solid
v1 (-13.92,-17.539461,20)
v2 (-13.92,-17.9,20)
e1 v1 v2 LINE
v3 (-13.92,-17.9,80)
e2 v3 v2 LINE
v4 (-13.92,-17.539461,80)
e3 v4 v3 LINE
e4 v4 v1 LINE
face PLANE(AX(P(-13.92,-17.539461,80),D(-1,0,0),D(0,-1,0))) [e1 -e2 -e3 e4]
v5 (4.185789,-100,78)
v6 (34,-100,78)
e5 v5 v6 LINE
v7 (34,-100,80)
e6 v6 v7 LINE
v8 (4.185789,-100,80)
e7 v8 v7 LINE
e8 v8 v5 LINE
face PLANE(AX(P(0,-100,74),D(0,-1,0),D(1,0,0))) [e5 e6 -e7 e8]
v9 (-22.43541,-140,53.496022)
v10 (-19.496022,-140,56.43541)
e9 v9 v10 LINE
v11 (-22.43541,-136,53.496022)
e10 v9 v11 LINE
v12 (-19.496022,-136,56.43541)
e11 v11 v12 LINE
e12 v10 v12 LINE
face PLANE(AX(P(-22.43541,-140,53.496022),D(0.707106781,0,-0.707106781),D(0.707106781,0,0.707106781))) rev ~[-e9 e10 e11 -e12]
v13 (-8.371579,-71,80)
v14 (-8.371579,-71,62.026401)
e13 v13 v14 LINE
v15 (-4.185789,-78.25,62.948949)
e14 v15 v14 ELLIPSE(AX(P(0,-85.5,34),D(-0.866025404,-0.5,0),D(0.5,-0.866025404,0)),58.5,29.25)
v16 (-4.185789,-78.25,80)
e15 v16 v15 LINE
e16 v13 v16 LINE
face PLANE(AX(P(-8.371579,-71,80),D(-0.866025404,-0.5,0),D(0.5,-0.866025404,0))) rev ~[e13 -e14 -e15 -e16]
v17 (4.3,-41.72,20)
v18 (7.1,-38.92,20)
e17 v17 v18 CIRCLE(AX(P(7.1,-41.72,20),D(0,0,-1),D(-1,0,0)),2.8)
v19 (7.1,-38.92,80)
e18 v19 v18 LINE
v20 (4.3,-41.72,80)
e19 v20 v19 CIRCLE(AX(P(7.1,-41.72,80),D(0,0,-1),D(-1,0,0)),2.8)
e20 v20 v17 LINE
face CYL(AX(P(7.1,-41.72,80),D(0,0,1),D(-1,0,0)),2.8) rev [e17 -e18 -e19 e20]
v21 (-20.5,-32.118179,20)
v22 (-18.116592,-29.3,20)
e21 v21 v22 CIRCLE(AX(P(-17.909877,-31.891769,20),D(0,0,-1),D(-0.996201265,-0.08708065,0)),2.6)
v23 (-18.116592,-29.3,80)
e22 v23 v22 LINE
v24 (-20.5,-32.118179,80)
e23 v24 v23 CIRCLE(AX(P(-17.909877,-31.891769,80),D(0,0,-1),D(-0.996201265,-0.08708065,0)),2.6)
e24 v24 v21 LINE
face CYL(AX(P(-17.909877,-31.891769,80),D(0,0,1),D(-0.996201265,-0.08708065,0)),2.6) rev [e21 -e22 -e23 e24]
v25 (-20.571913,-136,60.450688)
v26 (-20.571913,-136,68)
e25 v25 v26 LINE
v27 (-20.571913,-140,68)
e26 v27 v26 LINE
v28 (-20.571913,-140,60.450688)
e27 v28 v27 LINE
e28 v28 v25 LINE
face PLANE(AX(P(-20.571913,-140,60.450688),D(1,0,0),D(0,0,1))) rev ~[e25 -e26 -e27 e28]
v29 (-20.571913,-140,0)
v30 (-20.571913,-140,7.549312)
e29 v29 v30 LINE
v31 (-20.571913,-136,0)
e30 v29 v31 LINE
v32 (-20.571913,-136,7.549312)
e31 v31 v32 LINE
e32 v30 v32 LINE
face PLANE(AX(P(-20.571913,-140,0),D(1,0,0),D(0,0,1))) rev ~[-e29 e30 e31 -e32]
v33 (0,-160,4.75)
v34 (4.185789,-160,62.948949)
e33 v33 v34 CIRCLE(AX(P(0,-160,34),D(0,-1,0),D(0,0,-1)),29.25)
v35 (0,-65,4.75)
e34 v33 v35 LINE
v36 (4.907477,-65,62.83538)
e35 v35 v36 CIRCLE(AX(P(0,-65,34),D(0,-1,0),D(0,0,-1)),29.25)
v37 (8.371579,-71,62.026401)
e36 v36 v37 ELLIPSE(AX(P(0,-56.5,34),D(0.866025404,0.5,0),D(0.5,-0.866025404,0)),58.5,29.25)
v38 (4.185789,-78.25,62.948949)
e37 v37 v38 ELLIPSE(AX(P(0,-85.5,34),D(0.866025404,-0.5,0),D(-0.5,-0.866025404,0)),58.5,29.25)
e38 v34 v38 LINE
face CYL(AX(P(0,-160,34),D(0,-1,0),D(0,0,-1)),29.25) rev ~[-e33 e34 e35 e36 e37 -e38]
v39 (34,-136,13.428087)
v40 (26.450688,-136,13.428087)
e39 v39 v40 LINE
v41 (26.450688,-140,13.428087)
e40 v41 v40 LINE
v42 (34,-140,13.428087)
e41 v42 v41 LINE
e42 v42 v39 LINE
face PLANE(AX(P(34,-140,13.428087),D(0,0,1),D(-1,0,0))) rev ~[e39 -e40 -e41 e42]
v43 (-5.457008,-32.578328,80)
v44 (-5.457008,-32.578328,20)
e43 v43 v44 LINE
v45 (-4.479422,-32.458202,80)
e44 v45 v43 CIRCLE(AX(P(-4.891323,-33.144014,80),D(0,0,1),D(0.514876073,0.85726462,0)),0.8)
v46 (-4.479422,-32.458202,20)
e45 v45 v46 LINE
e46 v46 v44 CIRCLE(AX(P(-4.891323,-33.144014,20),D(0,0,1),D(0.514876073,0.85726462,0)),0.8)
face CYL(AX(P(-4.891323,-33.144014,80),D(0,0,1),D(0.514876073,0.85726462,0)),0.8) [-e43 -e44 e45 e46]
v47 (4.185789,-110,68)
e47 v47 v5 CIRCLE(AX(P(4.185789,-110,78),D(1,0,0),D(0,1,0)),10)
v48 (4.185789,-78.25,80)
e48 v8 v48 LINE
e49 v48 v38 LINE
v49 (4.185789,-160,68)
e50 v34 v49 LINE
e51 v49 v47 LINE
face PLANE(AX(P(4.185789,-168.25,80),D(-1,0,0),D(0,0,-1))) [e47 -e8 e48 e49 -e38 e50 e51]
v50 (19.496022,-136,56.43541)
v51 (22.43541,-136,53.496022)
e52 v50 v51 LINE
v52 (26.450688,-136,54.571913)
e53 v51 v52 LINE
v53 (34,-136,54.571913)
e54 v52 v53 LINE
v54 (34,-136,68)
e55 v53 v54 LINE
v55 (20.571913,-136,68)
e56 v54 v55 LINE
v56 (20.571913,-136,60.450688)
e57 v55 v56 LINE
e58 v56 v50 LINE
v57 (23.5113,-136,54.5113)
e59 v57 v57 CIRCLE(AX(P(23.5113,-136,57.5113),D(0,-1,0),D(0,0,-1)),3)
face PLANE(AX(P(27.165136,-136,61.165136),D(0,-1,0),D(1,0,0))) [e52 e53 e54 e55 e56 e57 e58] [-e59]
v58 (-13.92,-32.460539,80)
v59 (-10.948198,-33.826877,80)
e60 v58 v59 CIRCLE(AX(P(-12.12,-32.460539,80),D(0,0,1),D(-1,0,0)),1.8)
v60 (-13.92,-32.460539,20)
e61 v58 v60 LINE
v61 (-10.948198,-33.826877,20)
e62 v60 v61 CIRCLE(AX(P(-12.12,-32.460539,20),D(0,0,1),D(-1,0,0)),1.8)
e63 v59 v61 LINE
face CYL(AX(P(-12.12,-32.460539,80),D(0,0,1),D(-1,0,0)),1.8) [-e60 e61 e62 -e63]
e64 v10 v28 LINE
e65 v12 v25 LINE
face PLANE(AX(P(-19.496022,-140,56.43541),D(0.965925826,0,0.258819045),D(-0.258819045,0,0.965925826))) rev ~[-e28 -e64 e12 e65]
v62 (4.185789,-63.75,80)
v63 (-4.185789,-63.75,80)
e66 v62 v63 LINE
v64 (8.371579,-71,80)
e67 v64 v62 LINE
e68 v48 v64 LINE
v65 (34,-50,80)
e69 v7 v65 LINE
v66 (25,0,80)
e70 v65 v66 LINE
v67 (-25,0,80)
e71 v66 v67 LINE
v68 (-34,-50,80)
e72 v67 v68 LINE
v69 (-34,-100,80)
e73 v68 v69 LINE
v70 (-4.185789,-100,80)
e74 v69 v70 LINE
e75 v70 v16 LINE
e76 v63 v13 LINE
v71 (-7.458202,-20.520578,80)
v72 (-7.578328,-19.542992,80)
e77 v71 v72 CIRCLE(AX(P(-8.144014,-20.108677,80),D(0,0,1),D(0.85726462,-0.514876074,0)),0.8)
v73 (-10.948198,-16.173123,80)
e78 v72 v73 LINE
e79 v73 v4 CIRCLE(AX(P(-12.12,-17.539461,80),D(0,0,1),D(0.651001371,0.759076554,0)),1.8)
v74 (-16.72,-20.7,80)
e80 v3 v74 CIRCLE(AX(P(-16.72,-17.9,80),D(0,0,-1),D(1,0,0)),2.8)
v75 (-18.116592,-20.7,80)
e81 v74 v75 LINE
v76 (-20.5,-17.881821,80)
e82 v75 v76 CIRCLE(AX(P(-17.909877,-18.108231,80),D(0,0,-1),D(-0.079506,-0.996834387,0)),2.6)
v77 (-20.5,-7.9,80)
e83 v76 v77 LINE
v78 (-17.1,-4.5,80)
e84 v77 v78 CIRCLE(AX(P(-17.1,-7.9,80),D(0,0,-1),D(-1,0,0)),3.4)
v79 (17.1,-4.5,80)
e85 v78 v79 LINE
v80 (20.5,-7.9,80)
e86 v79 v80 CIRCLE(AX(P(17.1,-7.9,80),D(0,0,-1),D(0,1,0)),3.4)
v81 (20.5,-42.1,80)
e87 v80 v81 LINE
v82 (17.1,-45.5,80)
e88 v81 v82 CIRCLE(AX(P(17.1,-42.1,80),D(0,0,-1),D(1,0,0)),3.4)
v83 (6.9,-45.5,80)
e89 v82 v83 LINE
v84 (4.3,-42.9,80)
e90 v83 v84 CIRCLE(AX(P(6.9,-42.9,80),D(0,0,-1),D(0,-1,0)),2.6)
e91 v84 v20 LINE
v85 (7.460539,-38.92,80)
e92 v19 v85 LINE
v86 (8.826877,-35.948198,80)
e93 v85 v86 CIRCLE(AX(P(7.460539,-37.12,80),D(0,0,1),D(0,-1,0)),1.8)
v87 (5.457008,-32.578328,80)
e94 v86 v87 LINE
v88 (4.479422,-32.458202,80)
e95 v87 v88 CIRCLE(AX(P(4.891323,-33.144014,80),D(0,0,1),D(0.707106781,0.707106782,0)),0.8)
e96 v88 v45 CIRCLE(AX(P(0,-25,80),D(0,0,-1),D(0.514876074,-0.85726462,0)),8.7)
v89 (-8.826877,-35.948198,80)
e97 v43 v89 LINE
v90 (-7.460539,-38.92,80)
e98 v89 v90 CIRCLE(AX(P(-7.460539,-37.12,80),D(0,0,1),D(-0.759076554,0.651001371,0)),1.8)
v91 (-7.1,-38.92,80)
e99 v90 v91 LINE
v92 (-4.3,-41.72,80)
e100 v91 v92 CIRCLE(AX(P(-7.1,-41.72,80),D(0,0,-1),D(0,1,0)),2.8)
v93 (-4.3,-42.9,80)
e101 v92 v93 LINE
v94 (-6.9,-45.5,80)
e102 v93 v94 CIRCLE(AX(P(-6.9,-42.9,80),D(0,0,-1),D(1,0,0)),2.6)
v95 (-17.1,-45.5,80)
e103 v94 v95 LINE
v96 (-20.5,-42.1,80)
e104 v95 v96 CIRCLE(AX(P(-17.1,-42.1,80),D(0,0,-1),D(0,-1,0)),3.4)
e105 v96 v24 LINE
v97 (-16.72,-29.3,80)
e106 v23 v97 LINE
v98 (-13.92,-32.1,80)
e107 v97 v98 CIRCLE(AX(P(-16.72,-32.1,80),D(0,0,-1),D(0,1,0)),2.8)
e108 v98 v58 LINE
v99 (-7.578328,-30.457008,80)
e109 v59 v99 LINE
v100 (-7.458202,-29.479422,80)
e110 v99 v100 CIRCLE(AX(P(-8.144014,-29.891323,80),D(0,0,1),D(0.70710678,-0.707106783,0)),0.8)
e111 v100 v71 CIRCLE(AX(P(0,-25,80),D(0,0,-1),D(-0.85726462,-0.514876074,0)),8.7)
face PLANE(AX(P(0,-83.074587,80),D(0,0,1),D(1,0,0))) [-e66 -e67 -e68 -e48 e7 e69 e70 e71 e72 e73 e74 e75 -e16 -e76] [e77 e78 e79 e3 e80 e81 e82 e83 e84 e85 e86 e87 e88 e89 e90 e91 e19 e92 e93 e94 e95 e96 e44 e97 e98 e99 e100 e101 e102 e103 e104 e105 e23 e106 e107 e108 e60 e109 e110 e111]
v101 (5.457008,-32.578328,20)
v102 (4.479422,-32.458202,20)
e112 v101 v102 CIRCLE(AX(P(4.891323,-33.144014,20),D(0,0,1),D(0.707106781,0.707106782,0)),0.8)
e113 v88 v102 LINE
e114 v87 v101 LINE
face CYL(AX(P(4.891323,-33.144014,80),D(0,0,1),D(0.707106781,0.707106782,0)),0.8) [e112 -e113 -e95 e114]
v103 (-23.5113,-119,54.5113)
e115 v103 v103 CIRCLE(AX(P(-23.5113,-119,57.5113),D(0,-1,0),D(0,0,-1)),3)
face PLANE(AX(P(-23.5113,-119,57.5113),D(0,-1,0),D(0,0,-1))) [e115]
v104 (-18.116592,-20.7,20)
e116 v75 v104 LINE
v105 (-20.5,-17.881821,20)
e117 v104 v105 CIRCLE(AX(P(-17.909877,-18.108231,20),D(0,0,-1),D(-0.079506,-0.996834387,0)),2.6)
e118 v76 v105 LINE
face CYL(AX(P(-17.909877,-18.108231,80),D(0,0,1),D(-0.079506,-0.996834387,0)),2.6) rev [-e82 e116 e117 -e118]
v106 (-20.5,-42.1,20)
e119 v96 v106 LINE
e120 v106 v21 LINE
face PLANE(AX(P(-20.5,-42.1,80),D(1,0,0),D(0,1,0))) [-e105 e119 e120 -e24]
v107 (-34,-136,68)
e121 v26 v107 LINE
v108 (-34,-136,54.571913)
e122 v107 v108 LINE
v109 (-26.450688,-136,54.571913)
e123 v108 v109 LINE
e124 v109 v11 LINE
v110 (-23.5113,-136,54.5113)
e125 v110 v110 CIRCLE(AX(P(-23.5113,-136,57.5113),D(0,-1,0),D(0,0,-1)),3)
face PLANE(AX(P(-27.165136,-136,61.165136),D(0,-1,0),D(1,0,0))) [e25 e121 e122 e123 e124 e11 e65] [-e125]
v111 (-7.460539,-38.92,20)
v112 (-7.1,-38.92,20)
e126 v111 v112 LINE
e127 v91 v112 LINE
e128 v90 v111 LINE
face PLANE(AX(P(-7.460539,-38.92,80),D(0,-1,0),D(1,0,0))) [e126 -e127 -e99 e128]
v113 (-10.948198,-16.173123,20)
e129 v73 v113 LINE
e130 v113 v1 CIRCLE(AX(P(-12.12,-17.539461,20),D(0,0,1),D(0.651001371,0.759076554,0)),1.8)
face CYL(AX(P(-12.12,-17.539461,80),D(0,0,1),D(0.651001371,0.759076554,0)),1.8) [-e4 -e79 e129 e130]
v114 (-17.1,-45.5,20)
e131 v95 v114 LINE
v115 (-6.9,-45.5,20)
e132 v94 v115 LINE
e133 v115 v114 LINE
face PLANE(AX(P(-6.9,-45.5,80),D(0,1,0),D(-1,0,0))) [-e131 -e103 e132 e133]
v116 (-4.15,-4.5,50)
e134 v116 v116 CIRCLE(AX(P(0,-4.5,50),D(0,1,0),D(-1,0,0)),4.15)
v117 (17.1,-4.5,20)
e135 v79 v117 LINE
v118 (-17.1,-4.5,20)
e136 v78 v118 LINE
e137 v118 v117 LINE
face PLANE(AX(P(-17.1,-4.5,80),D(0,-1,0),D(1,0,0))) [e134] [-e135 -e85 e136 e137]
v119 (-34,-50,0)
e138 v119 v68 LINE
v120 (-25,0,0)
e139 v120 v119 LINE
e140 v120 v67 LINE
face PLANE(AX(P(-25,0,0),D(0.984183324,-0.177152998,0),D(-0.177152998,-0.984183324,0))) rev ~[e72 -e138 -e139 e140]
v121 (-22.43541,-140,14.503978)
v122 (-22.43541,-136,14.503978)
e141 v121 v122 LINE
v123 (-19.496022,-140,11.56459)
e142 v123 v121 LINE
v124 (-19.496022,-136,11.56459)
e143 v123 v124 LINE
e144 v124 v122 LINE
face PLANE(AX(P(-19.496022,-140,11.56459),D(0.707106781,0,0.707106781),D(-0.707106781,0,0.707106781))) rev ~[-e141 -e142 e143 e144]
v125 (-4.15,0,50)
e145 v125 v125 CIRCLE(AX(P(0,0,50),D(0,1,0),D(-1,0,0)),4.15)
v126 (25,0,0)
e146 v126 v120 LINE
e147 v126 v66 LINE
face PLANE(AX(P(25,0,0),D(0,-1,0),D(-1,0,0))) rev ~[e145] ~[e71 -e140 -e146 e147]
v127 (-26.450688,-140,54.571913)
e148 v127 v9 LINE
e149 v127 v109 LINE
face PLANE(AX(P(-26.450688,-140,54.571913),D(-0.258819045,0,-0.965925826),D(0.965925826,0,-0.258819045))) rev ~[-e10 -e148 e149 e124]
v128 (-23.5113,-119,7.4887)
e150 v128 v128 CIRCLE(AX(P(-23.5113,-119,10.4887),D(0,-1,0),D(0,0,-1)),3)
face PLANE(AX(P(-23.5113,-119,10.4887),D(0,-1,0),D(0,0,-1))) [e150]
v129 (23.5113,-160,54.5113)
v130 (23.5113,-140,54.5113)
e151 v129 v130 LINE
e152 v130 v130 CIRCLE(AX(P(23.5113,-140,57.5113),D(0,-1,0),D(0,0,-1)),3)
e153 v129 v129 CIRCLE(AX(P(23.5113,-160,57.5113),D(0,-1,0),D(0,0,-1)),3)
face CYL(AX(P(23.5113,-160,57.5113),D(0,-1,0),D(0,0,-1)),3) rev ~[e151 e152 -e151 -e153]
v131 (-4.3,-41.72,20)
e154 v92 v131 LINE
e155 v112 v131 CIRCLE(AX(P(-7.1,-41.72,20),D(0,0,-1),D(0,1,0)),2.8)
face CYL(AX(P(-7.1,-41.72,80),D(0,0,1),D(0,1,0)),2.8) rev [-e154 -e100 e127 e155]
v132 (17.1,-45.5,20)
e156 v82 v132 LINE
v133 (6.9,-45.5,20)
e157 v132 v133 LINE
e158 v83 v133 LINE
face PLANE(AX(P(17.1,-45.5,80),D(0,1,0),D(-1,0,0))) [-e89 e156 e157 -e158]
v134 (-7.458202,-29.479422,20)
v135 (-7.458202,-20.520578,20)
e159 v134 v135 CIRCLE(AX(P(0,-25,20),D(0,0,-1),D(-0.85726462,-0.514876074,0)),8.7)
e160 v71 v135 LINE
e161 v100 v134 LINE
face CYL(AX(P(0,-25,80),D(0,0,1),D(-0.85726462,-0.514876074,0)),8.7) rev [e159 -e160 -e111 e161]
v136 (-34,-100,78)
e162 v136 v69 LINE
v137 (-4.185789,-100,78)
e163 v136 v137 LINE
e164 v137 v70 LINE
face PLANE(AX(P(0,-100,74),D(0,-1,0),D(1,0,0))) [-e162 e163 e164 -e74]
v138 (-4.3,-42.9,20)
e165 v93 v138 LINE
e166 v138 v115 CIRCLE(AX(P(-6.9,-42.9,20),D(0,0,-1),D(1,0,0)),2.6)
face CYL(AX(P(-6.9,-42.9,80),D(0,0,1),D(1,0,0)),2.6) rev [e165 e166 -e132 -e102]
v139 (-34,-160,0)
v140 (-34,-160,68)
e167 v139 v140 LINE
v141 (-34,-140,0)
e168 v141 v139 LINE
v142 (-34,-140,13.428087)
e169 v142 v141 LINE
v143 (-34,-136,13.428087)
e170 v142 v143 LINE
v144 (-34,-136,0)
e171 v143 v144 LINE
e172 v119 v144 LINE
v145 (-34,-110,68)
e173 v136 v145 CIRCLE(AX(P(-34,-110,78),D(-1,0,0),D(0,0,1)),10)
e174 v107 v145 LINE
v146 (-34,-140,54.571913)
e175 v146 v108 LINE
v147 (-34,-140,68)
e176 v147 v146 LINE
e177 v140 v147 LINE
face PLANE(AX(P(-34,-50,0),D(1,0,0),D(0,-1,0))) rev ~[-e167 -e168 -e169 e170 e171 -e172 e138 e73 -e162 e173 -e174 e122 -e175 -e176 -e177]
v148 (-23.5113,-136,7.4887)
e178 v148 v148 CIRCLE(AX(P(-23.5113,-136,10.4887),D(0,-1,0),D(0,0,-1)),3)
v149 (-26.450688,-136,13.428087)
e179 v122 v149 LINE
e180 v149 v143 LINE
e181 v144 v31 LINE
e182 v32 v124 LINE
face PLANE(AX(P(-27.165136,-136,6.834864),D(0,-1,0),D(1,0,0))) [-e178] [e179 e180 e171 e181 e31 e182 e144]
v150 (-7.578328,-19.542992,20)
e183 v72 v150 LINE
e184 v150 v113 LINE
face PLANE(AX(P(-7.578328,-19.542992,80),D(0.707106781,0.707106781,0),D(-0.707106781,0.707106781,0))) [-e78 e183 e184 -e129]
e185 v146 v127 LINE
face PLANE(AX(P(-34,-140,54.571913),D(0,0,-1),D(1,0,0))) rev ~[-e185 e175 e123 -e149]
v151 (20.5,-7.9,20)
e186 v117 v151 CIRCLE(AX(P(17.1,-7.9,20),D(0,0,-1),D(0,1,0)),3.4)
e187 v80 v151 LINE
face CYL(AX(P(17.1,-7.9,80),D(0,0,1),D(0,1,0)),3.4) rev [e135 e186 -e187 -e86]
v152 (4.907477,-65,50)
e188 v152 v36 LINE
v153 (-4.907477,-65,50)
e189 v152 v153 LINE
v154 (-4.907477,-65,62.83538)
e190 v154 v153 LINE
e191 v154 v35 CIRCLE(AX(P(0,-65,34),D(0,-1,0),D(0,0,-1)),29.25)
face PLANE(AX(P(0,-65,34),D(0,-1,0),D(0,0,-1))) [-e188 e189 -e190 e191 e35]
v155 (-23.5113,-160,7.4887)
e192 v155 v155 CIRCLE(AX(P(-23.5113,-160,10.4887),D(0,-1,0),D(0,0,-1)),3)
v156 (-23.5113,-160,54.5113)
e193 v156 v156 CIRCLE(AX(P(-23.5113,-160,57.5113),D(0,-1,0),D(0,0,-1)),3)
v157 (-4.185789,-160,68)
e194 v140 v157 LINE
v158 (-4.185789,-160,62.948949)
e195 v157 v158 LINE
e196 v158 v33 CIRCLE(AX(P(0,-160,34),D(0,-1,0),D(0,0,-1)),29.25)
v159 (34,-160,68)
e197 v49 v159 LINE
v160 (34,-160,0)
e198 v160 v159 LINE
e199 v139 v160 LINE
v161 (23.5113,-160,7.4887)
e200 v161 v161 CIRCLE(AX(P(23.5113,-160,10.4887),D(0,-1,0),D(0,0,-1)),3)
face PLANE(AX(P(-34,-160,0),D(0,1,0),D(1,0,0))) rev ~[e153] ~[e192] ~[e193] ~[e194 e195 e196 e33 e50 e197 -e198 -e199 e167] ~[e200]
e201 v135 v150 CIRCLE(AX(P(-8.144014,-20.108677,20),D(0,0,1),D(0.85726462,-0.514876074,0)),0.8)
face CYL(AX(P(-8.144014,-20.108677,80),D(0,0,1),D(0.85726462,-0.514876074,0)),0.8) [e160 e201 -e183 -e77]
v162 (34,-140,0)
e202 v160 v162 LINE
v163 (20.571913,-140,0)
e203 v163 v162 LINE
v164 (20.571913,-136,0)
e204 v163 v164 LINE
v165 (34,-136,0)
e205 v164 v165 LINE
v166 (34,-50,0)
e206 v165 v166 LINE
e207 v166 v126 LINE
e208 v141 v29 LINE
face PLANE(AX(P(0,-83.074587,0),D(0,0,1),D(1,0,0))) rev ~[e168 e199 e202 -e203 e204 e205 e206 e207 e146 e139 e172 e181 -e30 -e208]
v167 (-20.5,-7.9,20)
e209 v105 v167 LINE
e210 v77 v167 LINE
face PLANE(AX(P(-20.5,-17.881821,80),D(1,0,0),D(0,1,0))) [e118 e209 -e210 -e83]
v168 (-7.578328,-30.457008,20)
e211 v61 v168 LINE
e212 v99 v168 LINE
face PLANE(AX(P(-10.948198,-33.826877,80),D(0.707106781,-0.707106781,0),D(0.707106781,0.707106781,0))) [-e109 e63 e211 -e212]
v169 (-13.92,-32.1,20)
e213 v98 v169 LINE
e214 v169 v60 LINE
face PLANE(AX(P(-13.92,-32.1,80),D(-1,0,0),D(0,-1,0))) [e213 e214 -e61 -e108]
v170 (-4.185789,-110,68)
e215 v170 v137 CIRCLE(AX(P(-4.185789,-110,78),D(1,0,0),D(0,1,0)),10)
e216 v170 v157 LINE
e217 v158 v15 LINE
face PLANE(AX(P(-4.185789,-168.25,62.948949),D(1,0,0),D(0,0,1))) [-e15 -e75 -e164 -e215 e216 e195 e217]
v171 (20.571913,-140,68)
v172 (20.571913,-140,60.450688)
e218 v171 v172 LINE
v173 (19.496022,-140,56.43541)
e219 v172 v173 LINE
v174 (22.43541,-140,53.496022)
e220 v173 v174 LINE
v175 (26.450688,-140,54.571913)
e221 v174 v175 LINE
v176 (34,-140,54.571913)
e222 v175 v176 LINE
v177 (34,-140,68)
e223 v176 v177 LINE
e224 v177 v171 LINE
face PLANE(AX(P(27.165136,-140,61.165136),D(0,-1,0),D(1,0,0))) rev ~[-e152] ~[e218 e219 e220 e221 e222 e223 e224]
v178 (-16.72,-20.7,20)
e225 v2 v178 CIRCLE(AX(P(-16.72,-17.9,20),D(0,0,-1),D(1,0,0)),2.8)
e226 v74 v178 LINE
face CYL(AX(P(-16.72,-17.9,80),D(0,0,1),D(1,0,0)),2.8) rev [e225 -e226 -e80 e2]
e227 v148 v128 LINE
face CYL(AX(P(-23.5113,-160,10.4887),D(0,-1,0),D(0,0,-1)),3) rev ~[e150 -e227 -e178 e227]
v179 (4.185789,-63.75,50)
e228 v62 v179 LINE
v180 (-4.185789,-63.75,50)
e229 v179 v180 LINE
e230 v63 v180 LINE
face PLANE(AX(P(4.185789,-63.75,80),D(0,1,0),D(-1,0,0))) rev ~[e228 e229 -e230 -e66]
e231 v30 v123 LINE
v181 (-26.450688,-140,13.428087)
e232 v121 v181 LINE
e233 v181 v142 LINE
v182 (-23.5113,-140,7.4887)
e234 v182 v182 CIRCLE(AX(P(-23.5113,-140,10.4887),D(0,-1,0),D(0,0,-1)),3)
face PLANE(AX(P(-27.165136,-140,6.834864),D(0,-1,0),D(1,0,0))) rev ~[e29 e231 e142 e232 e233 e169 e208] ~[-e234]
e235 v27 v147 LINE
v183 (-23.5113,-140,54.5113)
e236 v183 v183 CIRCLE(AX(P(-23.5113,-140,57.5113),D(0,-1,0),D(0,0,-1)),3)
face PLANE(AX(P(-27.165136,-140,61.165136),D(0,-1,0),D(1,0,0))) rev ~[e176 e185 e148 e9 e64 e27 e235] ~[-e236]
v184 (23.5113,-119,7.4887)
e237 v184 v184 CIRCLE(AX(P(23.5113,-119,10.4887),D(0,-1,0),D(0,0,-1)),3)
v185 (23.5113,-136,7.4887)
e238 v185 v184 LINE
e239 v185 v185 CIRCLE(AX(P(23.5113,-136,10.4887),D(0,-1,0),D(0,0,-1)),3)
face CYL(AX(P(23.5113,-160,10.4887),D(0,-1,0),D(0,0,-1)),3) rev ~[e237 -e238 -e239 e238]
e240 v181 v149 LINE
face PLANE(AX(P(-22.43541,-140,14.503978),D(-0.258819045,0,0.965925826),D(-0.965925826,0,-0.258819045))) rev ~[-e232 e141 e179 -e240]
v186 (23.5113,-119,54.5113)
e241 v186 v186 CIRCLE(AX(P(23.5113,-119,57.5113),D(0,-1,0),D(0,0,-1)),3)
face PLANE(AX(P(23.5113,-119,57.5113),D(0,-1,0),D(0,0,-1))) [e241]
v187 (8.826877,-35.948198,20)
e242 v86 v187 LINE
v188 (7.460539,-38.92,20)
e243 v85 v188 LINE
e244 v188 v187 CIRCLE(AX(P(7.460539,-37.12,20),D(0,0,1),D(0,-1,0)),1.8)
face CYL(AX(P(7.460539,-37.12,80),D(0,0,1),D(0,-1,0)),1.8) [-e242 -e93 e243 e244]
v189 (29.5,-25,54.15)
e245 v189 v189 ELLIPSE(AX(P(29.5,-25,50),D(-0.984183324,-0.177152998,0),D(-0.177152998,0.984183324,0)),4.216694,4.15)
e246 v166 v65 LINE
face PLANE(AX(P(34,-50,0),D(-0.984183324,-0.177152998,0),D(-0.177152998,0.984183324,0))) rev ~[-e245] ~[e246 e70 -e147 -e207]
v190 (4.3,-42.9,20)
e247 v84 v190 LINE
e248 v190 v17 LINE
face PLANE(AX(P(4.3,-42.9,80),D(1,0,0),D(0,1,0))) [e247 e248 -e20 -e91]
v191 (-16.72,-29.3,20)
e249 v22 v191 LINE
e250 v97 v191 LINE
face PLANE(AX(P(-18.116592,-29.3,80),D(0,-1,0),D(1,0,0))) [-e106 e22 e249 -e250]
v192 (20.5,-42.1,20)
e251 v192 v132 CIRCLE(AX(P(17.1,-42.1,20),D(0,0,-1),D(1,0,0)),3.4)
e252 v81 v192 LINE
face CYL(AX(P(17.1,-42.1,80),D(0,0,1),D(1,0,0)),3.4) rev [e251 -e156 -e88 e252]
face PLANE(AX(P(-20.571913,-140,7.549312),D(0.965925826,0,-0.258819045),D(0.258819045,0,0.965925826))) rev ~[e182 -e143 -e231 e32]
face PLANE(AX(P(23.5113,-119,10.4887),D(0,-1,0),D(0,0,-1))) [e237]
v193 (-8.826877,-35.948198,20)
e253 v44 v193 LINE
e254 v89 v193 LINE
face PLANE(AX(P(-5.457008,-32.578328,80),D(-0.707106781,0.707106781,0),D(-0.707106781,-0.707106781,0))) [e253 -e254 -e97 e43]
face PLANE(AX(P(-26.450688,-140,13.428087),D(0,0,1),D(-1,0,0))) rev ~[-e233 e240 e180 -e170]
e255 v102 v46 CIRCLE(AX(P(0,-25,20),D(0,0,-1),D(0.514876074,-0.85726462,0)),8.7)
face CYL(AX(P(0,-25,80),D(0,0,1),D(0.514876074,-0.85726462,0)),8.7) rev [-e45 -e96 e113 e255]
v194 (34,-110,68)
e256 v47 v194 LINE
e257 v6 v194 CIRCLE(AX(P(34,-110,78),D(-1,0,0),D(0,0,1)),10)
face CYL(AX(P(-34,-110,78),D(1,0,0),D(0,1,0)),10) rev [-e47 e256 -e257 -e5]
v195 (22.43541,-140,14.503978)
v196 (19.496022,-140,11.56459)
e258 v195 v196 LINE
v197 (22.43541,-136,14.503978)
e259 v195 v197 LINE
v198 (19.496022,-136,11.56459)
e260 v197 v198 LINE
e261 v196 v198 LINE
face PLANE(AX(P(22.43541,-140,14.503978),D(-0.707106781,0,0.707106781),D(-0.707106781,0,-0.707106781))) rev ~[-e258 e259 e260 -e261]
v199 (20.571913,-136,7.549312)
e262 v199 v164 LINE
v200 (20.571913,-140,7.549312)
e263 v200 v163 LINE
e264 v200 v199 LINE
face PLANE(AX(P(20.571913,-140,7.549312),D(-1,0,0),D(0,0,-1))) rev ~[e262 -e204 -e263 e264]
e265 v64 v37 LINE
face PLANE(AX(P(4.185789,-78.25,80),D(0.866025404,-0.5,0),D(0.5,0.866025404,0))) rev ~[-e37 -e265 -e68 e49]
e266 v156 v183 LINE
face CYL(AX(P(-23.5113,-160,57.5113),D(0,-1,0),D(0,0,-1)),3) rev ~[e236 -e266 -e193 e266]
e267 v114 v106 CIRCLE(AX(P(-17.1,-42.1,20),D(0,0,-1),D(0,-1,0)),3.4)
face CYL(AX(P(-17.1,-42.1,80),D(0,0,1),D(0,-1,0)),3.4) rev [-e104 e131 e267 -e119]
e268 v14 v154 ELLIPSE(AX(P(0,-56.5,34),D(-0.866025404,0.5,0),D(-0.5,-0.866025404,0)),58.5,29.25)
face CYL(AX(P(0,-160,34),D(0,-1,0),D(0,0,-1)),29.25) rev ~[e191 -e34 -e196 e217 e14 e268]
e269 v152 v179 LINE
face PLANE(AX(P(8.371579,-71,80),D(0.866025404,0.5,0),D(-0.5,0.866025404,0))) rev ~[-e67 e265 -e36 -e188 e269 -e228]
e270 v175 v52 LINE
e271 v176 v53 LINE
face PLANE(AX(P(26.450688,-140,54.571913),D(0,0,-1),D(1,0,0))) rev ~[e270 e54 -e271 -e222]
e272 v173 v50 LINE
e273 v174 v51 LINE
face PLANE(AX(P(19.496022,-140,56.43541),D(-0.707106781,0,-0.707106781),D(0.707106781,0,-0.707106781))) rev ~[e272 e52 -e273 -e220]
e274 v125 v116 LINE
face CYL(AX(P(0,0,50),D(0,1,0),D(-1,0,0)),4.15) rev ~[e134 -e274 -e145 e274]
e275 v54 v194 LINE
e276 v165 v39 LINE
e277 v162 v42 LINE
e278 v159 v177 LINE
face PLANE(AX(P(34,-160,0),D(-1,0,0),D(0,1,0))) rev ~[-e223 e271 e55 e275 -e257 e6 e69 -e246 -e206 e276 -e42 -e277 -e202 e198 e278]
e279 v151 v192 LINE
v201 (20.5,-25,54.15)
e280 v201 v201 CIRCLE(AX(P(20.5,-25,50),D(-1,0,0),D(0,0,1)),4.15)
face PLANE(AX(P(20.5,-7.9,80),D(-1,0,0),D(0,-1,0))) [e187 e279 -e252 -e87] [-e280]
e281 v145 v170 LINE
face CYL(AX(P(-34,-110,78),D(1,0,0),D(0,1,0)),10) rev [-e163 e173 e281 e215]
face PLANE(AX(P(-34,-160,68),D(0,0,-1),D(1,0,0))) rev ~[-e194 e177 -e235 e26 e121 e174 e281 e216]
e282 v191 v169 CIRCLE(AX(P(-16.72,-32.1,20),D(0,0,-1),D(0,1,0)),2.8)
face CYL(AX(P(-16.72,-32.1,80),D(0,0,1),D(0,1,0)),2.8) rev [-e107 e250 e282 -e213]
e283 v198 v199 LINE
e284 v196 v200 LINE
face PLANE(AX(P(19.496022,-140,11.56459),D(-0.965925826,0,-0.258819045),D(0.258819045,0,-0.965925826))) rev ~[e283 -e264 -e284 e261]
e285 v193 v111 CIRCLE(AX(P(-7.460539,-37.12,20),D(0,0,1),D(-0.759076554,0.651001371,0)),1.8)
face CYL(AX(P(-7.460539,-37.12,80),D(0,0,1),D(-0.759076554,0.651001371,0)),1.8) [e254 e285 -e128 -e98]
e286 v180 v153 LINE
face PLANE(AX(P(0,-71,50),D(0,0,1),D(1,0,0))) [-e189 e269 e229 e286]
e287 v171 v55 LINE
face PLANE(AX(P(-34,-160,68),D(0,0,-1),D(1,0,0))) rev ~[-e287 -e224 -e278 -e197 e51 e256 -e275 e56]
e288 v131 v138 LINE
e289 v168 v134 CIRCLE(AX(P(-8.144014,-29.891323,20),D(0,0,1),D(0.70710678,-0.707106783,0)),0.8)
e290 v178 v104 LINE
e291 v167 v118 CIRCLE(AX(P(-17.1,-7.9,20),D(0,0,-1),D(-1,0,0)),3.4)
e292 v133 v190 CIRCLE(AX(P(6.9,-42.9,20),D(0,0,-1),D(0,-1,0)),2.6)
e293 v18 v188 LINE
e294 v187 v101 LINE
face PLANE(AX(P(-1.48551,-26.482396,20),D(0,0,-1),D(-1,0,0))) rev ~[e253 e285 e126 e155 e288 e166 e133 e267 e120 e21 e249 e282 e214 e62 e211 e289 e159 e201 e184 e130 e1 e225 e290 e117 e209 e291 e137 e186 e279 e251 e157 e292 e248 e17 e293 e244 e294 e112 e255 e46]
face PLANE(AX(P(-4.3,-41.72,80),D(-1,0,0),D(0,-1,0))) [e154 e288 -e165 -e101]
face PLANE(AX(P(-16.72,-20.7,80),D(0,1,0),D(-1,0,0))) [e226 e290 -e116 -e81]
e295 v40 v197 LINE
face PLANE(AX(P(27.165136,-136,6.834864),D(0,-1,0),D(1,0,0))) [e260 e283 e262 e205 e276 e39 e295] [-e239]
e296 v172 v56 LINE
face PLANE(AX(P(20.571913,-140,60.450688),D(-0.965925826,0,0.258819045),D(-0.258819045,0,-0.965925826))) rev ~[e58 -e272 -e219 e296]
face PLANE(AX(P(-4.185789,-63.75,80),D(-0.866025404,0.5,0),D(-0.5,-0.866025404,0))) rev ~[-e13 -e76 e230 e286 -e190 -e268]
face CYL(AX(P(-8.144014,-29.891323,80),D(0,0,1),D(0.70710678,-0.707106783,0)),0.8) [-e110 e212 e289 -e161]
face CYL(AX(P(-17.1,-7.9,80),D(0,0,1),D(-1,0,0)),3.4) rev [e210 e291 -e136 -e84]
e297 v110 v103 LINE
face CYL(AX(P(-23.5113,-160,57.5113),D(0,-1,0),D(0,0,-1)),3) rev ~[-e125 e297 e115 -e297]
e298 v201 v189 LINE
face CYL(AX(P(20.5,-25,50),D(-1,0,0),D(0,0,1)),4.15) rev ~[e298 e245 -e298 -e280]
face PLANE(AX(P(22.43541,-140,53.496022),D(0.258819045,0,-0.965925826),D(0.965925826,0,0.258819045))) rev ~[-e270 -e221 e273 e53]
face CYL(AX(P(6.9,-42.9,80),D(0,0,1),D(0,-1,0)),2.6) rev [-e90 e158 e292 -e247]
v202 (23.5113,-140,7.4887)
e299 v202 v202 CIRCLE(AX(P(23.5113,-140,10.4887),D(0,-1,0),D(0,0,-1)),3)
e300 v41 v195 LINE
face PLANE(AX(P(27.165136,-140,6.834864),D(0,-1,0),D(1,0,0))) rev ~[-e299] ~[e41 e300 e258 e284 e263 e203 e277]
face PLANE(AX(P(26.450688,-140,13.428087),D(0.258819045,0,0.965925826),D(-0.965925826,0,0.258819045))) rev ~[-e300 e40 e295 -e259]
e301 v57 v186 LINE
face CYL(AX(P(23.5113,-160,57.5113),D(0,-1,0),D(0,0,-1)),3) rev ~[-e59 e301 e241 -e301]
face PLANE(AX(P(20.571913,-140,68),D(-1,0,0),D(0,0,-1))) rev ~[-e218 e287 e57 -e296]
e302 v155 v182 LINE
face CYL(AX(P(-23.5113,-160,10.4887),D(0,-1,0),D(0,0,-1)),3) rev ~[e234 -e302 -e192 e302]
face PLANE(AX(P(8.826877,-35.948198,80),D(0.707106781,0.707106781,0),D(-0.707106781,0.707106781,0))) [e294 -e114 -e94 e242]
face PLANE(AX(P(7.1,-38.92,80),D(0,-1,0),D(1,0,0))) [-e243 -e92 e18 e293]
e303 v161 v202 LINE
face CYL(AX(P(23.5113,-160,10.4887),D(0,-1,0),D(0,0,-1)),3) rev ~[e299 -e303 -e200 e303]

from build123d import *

# Parameters (mm, degrees)
BOSS_EXTRUDE1_DEPTH = 80
SKETCH2_W           = 68
SKETCH2_H           = 12
CUT_EXTRUDE1_DEPTH  = 60
FILLET1_R           = 10
CUT_EXTRUDE6_DEPTH  = 60
SKETCH6_R           = 29.25
CUT_EXTRUDE7_DEPTH  = 95
SKETCH7_R           = 3
CUT_EXTRUDE8_DEPTH  = 41
CUT_EXTRUDE9_START  = -20
CUT_EXTRUDE9_DEPTH  = 4
CUT_EXTRUDE10_DEPTH = 30
CUT_EXTRUDE11_START = -90
CUT_EXTRUDE11_DEPTH = 90
SKETCH11_R          = 4.15
CUT_EXTRUDE12_DEPTH = 18
SKETCH12_R          = 4.15
CUT_EXTRUDE13_DEPTH = 18


with BuildPart() as part:
    # Sketch1 → Boss-Extrude1 (new body)
    with BuildSketch(Plane.XY):
        Polygon((25, 0), (-25, 0), (-34, -50), (-34, -160), (34, -160), (34, -50), align=None)
    extrude(amount=BOSS_EXTRUDE1_DEPTH)

    # Sketch2 → Cut-Extrude1 (cut)
    with BuildSketch(Plane.XZ.offset(160)):
        with Locations((0, 74)):
            Rectangle(SKETCH2_W, SKETCH2_H)
    extrude(amount=-CUT_EXTRUDE1_DEPTH, mode=Mode.SUBTRACT)

    # Fillet1
    fillet1_edges = [part.edges().sort_by_distance(p)[0] for p in [
        (0, -100, 68),
    ]]
    fillet(fillet1_edges, radius=FILLET1_R)

    # Sketch5 → Cut-Extrude6 (cut)
    with BuildSketch(Plane.XY.offset(80)):
        with BuildLine():
            Line((17.1, -45.5), (6.9, -45.5))
            ThreePointArc((6.9, -45.5), (5.061522369, -44.738477631), (4.3, -42.9))
            Line((4.3, -42.9), (4.3, -41.72))
            ThreePointArc((4.3, -41.72), (5.120101013, -39.740101013), (7.1, -38.92))
            Line((7.1, -38.92), (7.460539391, -38.92))
            ThreePointArc((7.460539391, -38.92), (9.09596662, -37.871916072), (8.826877189, -35.948197533))
            Line((8.826877189, -35.948197533), (5.457008123, -32.578328466))
            ThreePointArc((5.457008123, -32.578328466), (4.988893203, -32.349986186), (4.479421839, -32.458202195))
            ThreePointArc((4.479421839, -32.458202195), (0, -33.7), (-4.479421839, -32.458202195))
            ThreePointArc((-4.479421839, -32.458202195), (-4.988893203, -32.349986186), (-5.457008123, -32.578328466))
            Line((-5.457008123, -32.578328466), (-8.826877189, -35.948197533))
            ThreePointArc((-8.826877189, -35.948197533), (-9.09596662, -37.871916072), (-7.460539391, -38.92))
            Line((-7.460539391, -38.92), (-7.1, -38.92))
            ThreePointArc((-7.1, -38.92), (-5.120101013, -39.740101013), (-4.3, -41.72))
            Line((-4.3, -41.72), (-4.3, -42.9))
            ThreePointArc((-4.3, -42.9), (-5.061522369, -44.738477631), (-6.9, -45.5))
            Line((-6.9, -45.5), (-17.1, -45.5))
            ThreePointArc((-17.1, -45.5), (-19.504163056, -44.504163056), (-20.5, -42.1))
            Line((-20.5, -42.1), (-20.5, -32.118179099))
            ThreePointArc((-20.5, -32.118179099), (-19.895099696, -30.212814465), (-18.116592311, -29.3))
            Line((-18.116592311, -29.3), (-16.72, -29.3))
            ThreePointArc((-16.72, -29.3), (-14.740101013, -30.120101013), (-13.92, -32.1))
            Line((-13.92, -32.1), (-13.92, -32.460539391))
            ThreePointArc((-13.92, -32.460539391), (-12.871916072, -34.09596662), (-10.948197533, -33.826877189))
            Line((-10.948197533, -33.826877189), (-7.578328467, -30.457008123))
            ThreePointArc((-7.578328467, -30.457008123), (-7.349986186, -29.988893203), (-7.458202195, -29.479421839))
            ThreePointArc((-7.458202195, -29.479421839), (-8.7, -25), (-7.458202195, -20.520578161))
            ThreePointArc((-7.458202195, -20.520578161), (-7.349986186, -20.011106797), (-7.578328467, -19.542991877))
            Line((-7.578328467, -19.542991877), (-10.948197533, -16.173122811))
            ThreePointArc((-10.948197533, -16.173122811), (-12.871916072, -15.90403338), (-13.92, -17.539460609))
            Line((-13.92, -17.539460609), (-13.92, -17.9))
            ThreePointArc((-13.92, -17.9), (-14.740101013, -19.879898987), (-16.72, -20.7))
            Line((-16.72, -20.7), (-18.116592311, -20.7))
            ThreePointArc((-18.116592311, -20.7), (-19.895099696, -19.787185535), (-20.5, -17.881820901))
            Line((-20.5, -17.881820901), (-20.5, -7.9))
            ThreePointArc((-20.5, -7.9), (-19.504163056, -5.495836944), (-17.1, -4.5))
            Line((-17.1, -4.5), (-7.1, -4.5))
            Line((-7.1, -4.5), (7.1, -4.5))
            Line((7.1, -4.5), (17.1, -4.5))
            ThreePointArc((17.1, -4.5), (19.504163056, -5.495836944), (20.5, -7.9))
            Line((20.5, -7.9), (20.5, -18.1))
            Line((20.5, -18.1), (20.5, -31.9))
            Line((20.5, -31.9), (20.5, -42.1))
            ThreePointArc((20.5, -42.1), (19.504163056, -44.504163056), (17.1, -45.5))
        make_face()
    extrude(amount=-CUT_EXTRUDE6_DEPTH, mode=Mode.SUBTRACT)

    # Sketch6 → Cut-Extrude7 (cut)
    with BuildSketch(Plane.XZ.offset(160)):
        with Locations(Location((0, 34, 0), (0, 0, 270))):
            Circle(SKETCH6_R)
    extrude(amount=-CUT_EXTRUDE7_DEPTH, mode=Mode.SUBTRACT)

    # Sketch7 → Cut-Extrude8 (cut)
    with BuildSketch(Plane.XZ.offset(160)):
        with Locations(Location((-23.511300474, 57.511300474, 0), (0, 0, 270))):
            Circle(SKETCH7_R)
        with Locations(Location((23.511300474, 57.511300474, 0), (0, 0, 270))):
            Circle(SKETCH7_R)
        with Locations(Location((23.511300474, 10.488699526, 0), (0, 0, 270))):
            Circle(SKETCH7_R)
        with Locations(Location((-23.511300474, 10.488699526, 0), (0, 0, 270))):
            Circle(SKETCH7_R)
    extrude(amount=-CUT_EXTRUDE8_DEPTH, mode=Mode.SUBTRACT)

    # Sketch8 → Cut-Extrude9 (cut)
    with BuildSketch(Plane.XZ.offset(160).offset(CUT_EXTRUDE9_START)):
        Polygon((-26.450688166, 54.571912783), (-22.435409908, 53.496022217), (-19.496022217, 56.435409908), (-20.571912783, 60.450688166), (-20.571912783, 68), (-34, 68), (-34, 54.571912783), align=None)
        Polygon((20.571912783, 60.450688166), (19.496022217, 56.435409908), (22.435409908, 53.496022217), (26.450688166, 54.571912783), (34, 54.571912783), (34, 68), (20.571912783, 68), align=None)
        Polygon((26.450688166, 13.428087217), (22.435409908, 14.503977783), (19.496022217, 11.564590092), (20.571912783, 7.549311834), (20.571912783, 0), (34, 0), (34, 13.428087217), align=None)
        Polygon((-20.571912783, 7.549311834), (-19.496022217, 11.564590092), (-22.435409908, 14.503977783), (-26.450688166, 13.428087217), (-34, 13.428087217), (-34, 0), (-20.571912783, 0), align=None)
    extrude(amount=-CUT_EXTRUDE9_DEPTH, mode=Mode.SUBTRACT)

    # Sketch9 → Cut-Extrude10 (cut)
    with BuildSketch(Plane.XY.offset(80)):
        Polygon((4.185789452, -63.75), (-4.185789452, -63.75), (-8.371578903, -71), (-4.185789452, -78.25), (4.185789452, -78.25), (8.371578903, -71), align=None)
    extrude(amount=-CUT_EXTRUDE10_DEPTH, mode=Mode.SUBTRACT)

    # Sketch10 → Cut-Extrude11 (cut)
    with BuildSketch(Plane(origin=(0, -78.25, 0), x_dir=(1, 0, 0), z_dir=(0, 1, 0)).offset(CUT_EXTRUDE11_START)):
        with BuildLine():
            Line((-4.185789452, -62.948949319), (-4.185789452, -80))
            Line((-4.185789452, -80), (4.185789452, -80))
            Line((4.185789452, -80), (4.185789452, -62.948949319))
            ThreePointArc((4.185789452, -62.948949319), (0, -63.25), (-4.185789452, -62.948949319))
        make_face()
    extrude(amount=CUT_EXTRUDE11_DEPTH, mode=Mode.SUBTRACT)

    # Sketch11 → Cut-Extrude12 (cut)
    with BuildSketch(Plane(origin=(0, 0, 0), x_dir=(1, 0, 0), z_dir=(0, 1, 0))):
        with Locations(Location((0, -50, 0), (0, 0, 180))):
            Circle(SKETCH11_R)
    extrude(amount=-CUT_EXTRUDE12_DEPTH, mode=Mode.SUBTRACT)

    # Sketch12 → Cut-Extrude13 (cut)
    with BuildSketch(Plane.ZY.offset(-20.5)):
        with Locations((50, -25)):
            Circle(SKETCH12_R)
    extrude(amount=-CUT_EXTRUDE13_DEPTH, mode=Mode.SUBTRACT)


solid = part.part
